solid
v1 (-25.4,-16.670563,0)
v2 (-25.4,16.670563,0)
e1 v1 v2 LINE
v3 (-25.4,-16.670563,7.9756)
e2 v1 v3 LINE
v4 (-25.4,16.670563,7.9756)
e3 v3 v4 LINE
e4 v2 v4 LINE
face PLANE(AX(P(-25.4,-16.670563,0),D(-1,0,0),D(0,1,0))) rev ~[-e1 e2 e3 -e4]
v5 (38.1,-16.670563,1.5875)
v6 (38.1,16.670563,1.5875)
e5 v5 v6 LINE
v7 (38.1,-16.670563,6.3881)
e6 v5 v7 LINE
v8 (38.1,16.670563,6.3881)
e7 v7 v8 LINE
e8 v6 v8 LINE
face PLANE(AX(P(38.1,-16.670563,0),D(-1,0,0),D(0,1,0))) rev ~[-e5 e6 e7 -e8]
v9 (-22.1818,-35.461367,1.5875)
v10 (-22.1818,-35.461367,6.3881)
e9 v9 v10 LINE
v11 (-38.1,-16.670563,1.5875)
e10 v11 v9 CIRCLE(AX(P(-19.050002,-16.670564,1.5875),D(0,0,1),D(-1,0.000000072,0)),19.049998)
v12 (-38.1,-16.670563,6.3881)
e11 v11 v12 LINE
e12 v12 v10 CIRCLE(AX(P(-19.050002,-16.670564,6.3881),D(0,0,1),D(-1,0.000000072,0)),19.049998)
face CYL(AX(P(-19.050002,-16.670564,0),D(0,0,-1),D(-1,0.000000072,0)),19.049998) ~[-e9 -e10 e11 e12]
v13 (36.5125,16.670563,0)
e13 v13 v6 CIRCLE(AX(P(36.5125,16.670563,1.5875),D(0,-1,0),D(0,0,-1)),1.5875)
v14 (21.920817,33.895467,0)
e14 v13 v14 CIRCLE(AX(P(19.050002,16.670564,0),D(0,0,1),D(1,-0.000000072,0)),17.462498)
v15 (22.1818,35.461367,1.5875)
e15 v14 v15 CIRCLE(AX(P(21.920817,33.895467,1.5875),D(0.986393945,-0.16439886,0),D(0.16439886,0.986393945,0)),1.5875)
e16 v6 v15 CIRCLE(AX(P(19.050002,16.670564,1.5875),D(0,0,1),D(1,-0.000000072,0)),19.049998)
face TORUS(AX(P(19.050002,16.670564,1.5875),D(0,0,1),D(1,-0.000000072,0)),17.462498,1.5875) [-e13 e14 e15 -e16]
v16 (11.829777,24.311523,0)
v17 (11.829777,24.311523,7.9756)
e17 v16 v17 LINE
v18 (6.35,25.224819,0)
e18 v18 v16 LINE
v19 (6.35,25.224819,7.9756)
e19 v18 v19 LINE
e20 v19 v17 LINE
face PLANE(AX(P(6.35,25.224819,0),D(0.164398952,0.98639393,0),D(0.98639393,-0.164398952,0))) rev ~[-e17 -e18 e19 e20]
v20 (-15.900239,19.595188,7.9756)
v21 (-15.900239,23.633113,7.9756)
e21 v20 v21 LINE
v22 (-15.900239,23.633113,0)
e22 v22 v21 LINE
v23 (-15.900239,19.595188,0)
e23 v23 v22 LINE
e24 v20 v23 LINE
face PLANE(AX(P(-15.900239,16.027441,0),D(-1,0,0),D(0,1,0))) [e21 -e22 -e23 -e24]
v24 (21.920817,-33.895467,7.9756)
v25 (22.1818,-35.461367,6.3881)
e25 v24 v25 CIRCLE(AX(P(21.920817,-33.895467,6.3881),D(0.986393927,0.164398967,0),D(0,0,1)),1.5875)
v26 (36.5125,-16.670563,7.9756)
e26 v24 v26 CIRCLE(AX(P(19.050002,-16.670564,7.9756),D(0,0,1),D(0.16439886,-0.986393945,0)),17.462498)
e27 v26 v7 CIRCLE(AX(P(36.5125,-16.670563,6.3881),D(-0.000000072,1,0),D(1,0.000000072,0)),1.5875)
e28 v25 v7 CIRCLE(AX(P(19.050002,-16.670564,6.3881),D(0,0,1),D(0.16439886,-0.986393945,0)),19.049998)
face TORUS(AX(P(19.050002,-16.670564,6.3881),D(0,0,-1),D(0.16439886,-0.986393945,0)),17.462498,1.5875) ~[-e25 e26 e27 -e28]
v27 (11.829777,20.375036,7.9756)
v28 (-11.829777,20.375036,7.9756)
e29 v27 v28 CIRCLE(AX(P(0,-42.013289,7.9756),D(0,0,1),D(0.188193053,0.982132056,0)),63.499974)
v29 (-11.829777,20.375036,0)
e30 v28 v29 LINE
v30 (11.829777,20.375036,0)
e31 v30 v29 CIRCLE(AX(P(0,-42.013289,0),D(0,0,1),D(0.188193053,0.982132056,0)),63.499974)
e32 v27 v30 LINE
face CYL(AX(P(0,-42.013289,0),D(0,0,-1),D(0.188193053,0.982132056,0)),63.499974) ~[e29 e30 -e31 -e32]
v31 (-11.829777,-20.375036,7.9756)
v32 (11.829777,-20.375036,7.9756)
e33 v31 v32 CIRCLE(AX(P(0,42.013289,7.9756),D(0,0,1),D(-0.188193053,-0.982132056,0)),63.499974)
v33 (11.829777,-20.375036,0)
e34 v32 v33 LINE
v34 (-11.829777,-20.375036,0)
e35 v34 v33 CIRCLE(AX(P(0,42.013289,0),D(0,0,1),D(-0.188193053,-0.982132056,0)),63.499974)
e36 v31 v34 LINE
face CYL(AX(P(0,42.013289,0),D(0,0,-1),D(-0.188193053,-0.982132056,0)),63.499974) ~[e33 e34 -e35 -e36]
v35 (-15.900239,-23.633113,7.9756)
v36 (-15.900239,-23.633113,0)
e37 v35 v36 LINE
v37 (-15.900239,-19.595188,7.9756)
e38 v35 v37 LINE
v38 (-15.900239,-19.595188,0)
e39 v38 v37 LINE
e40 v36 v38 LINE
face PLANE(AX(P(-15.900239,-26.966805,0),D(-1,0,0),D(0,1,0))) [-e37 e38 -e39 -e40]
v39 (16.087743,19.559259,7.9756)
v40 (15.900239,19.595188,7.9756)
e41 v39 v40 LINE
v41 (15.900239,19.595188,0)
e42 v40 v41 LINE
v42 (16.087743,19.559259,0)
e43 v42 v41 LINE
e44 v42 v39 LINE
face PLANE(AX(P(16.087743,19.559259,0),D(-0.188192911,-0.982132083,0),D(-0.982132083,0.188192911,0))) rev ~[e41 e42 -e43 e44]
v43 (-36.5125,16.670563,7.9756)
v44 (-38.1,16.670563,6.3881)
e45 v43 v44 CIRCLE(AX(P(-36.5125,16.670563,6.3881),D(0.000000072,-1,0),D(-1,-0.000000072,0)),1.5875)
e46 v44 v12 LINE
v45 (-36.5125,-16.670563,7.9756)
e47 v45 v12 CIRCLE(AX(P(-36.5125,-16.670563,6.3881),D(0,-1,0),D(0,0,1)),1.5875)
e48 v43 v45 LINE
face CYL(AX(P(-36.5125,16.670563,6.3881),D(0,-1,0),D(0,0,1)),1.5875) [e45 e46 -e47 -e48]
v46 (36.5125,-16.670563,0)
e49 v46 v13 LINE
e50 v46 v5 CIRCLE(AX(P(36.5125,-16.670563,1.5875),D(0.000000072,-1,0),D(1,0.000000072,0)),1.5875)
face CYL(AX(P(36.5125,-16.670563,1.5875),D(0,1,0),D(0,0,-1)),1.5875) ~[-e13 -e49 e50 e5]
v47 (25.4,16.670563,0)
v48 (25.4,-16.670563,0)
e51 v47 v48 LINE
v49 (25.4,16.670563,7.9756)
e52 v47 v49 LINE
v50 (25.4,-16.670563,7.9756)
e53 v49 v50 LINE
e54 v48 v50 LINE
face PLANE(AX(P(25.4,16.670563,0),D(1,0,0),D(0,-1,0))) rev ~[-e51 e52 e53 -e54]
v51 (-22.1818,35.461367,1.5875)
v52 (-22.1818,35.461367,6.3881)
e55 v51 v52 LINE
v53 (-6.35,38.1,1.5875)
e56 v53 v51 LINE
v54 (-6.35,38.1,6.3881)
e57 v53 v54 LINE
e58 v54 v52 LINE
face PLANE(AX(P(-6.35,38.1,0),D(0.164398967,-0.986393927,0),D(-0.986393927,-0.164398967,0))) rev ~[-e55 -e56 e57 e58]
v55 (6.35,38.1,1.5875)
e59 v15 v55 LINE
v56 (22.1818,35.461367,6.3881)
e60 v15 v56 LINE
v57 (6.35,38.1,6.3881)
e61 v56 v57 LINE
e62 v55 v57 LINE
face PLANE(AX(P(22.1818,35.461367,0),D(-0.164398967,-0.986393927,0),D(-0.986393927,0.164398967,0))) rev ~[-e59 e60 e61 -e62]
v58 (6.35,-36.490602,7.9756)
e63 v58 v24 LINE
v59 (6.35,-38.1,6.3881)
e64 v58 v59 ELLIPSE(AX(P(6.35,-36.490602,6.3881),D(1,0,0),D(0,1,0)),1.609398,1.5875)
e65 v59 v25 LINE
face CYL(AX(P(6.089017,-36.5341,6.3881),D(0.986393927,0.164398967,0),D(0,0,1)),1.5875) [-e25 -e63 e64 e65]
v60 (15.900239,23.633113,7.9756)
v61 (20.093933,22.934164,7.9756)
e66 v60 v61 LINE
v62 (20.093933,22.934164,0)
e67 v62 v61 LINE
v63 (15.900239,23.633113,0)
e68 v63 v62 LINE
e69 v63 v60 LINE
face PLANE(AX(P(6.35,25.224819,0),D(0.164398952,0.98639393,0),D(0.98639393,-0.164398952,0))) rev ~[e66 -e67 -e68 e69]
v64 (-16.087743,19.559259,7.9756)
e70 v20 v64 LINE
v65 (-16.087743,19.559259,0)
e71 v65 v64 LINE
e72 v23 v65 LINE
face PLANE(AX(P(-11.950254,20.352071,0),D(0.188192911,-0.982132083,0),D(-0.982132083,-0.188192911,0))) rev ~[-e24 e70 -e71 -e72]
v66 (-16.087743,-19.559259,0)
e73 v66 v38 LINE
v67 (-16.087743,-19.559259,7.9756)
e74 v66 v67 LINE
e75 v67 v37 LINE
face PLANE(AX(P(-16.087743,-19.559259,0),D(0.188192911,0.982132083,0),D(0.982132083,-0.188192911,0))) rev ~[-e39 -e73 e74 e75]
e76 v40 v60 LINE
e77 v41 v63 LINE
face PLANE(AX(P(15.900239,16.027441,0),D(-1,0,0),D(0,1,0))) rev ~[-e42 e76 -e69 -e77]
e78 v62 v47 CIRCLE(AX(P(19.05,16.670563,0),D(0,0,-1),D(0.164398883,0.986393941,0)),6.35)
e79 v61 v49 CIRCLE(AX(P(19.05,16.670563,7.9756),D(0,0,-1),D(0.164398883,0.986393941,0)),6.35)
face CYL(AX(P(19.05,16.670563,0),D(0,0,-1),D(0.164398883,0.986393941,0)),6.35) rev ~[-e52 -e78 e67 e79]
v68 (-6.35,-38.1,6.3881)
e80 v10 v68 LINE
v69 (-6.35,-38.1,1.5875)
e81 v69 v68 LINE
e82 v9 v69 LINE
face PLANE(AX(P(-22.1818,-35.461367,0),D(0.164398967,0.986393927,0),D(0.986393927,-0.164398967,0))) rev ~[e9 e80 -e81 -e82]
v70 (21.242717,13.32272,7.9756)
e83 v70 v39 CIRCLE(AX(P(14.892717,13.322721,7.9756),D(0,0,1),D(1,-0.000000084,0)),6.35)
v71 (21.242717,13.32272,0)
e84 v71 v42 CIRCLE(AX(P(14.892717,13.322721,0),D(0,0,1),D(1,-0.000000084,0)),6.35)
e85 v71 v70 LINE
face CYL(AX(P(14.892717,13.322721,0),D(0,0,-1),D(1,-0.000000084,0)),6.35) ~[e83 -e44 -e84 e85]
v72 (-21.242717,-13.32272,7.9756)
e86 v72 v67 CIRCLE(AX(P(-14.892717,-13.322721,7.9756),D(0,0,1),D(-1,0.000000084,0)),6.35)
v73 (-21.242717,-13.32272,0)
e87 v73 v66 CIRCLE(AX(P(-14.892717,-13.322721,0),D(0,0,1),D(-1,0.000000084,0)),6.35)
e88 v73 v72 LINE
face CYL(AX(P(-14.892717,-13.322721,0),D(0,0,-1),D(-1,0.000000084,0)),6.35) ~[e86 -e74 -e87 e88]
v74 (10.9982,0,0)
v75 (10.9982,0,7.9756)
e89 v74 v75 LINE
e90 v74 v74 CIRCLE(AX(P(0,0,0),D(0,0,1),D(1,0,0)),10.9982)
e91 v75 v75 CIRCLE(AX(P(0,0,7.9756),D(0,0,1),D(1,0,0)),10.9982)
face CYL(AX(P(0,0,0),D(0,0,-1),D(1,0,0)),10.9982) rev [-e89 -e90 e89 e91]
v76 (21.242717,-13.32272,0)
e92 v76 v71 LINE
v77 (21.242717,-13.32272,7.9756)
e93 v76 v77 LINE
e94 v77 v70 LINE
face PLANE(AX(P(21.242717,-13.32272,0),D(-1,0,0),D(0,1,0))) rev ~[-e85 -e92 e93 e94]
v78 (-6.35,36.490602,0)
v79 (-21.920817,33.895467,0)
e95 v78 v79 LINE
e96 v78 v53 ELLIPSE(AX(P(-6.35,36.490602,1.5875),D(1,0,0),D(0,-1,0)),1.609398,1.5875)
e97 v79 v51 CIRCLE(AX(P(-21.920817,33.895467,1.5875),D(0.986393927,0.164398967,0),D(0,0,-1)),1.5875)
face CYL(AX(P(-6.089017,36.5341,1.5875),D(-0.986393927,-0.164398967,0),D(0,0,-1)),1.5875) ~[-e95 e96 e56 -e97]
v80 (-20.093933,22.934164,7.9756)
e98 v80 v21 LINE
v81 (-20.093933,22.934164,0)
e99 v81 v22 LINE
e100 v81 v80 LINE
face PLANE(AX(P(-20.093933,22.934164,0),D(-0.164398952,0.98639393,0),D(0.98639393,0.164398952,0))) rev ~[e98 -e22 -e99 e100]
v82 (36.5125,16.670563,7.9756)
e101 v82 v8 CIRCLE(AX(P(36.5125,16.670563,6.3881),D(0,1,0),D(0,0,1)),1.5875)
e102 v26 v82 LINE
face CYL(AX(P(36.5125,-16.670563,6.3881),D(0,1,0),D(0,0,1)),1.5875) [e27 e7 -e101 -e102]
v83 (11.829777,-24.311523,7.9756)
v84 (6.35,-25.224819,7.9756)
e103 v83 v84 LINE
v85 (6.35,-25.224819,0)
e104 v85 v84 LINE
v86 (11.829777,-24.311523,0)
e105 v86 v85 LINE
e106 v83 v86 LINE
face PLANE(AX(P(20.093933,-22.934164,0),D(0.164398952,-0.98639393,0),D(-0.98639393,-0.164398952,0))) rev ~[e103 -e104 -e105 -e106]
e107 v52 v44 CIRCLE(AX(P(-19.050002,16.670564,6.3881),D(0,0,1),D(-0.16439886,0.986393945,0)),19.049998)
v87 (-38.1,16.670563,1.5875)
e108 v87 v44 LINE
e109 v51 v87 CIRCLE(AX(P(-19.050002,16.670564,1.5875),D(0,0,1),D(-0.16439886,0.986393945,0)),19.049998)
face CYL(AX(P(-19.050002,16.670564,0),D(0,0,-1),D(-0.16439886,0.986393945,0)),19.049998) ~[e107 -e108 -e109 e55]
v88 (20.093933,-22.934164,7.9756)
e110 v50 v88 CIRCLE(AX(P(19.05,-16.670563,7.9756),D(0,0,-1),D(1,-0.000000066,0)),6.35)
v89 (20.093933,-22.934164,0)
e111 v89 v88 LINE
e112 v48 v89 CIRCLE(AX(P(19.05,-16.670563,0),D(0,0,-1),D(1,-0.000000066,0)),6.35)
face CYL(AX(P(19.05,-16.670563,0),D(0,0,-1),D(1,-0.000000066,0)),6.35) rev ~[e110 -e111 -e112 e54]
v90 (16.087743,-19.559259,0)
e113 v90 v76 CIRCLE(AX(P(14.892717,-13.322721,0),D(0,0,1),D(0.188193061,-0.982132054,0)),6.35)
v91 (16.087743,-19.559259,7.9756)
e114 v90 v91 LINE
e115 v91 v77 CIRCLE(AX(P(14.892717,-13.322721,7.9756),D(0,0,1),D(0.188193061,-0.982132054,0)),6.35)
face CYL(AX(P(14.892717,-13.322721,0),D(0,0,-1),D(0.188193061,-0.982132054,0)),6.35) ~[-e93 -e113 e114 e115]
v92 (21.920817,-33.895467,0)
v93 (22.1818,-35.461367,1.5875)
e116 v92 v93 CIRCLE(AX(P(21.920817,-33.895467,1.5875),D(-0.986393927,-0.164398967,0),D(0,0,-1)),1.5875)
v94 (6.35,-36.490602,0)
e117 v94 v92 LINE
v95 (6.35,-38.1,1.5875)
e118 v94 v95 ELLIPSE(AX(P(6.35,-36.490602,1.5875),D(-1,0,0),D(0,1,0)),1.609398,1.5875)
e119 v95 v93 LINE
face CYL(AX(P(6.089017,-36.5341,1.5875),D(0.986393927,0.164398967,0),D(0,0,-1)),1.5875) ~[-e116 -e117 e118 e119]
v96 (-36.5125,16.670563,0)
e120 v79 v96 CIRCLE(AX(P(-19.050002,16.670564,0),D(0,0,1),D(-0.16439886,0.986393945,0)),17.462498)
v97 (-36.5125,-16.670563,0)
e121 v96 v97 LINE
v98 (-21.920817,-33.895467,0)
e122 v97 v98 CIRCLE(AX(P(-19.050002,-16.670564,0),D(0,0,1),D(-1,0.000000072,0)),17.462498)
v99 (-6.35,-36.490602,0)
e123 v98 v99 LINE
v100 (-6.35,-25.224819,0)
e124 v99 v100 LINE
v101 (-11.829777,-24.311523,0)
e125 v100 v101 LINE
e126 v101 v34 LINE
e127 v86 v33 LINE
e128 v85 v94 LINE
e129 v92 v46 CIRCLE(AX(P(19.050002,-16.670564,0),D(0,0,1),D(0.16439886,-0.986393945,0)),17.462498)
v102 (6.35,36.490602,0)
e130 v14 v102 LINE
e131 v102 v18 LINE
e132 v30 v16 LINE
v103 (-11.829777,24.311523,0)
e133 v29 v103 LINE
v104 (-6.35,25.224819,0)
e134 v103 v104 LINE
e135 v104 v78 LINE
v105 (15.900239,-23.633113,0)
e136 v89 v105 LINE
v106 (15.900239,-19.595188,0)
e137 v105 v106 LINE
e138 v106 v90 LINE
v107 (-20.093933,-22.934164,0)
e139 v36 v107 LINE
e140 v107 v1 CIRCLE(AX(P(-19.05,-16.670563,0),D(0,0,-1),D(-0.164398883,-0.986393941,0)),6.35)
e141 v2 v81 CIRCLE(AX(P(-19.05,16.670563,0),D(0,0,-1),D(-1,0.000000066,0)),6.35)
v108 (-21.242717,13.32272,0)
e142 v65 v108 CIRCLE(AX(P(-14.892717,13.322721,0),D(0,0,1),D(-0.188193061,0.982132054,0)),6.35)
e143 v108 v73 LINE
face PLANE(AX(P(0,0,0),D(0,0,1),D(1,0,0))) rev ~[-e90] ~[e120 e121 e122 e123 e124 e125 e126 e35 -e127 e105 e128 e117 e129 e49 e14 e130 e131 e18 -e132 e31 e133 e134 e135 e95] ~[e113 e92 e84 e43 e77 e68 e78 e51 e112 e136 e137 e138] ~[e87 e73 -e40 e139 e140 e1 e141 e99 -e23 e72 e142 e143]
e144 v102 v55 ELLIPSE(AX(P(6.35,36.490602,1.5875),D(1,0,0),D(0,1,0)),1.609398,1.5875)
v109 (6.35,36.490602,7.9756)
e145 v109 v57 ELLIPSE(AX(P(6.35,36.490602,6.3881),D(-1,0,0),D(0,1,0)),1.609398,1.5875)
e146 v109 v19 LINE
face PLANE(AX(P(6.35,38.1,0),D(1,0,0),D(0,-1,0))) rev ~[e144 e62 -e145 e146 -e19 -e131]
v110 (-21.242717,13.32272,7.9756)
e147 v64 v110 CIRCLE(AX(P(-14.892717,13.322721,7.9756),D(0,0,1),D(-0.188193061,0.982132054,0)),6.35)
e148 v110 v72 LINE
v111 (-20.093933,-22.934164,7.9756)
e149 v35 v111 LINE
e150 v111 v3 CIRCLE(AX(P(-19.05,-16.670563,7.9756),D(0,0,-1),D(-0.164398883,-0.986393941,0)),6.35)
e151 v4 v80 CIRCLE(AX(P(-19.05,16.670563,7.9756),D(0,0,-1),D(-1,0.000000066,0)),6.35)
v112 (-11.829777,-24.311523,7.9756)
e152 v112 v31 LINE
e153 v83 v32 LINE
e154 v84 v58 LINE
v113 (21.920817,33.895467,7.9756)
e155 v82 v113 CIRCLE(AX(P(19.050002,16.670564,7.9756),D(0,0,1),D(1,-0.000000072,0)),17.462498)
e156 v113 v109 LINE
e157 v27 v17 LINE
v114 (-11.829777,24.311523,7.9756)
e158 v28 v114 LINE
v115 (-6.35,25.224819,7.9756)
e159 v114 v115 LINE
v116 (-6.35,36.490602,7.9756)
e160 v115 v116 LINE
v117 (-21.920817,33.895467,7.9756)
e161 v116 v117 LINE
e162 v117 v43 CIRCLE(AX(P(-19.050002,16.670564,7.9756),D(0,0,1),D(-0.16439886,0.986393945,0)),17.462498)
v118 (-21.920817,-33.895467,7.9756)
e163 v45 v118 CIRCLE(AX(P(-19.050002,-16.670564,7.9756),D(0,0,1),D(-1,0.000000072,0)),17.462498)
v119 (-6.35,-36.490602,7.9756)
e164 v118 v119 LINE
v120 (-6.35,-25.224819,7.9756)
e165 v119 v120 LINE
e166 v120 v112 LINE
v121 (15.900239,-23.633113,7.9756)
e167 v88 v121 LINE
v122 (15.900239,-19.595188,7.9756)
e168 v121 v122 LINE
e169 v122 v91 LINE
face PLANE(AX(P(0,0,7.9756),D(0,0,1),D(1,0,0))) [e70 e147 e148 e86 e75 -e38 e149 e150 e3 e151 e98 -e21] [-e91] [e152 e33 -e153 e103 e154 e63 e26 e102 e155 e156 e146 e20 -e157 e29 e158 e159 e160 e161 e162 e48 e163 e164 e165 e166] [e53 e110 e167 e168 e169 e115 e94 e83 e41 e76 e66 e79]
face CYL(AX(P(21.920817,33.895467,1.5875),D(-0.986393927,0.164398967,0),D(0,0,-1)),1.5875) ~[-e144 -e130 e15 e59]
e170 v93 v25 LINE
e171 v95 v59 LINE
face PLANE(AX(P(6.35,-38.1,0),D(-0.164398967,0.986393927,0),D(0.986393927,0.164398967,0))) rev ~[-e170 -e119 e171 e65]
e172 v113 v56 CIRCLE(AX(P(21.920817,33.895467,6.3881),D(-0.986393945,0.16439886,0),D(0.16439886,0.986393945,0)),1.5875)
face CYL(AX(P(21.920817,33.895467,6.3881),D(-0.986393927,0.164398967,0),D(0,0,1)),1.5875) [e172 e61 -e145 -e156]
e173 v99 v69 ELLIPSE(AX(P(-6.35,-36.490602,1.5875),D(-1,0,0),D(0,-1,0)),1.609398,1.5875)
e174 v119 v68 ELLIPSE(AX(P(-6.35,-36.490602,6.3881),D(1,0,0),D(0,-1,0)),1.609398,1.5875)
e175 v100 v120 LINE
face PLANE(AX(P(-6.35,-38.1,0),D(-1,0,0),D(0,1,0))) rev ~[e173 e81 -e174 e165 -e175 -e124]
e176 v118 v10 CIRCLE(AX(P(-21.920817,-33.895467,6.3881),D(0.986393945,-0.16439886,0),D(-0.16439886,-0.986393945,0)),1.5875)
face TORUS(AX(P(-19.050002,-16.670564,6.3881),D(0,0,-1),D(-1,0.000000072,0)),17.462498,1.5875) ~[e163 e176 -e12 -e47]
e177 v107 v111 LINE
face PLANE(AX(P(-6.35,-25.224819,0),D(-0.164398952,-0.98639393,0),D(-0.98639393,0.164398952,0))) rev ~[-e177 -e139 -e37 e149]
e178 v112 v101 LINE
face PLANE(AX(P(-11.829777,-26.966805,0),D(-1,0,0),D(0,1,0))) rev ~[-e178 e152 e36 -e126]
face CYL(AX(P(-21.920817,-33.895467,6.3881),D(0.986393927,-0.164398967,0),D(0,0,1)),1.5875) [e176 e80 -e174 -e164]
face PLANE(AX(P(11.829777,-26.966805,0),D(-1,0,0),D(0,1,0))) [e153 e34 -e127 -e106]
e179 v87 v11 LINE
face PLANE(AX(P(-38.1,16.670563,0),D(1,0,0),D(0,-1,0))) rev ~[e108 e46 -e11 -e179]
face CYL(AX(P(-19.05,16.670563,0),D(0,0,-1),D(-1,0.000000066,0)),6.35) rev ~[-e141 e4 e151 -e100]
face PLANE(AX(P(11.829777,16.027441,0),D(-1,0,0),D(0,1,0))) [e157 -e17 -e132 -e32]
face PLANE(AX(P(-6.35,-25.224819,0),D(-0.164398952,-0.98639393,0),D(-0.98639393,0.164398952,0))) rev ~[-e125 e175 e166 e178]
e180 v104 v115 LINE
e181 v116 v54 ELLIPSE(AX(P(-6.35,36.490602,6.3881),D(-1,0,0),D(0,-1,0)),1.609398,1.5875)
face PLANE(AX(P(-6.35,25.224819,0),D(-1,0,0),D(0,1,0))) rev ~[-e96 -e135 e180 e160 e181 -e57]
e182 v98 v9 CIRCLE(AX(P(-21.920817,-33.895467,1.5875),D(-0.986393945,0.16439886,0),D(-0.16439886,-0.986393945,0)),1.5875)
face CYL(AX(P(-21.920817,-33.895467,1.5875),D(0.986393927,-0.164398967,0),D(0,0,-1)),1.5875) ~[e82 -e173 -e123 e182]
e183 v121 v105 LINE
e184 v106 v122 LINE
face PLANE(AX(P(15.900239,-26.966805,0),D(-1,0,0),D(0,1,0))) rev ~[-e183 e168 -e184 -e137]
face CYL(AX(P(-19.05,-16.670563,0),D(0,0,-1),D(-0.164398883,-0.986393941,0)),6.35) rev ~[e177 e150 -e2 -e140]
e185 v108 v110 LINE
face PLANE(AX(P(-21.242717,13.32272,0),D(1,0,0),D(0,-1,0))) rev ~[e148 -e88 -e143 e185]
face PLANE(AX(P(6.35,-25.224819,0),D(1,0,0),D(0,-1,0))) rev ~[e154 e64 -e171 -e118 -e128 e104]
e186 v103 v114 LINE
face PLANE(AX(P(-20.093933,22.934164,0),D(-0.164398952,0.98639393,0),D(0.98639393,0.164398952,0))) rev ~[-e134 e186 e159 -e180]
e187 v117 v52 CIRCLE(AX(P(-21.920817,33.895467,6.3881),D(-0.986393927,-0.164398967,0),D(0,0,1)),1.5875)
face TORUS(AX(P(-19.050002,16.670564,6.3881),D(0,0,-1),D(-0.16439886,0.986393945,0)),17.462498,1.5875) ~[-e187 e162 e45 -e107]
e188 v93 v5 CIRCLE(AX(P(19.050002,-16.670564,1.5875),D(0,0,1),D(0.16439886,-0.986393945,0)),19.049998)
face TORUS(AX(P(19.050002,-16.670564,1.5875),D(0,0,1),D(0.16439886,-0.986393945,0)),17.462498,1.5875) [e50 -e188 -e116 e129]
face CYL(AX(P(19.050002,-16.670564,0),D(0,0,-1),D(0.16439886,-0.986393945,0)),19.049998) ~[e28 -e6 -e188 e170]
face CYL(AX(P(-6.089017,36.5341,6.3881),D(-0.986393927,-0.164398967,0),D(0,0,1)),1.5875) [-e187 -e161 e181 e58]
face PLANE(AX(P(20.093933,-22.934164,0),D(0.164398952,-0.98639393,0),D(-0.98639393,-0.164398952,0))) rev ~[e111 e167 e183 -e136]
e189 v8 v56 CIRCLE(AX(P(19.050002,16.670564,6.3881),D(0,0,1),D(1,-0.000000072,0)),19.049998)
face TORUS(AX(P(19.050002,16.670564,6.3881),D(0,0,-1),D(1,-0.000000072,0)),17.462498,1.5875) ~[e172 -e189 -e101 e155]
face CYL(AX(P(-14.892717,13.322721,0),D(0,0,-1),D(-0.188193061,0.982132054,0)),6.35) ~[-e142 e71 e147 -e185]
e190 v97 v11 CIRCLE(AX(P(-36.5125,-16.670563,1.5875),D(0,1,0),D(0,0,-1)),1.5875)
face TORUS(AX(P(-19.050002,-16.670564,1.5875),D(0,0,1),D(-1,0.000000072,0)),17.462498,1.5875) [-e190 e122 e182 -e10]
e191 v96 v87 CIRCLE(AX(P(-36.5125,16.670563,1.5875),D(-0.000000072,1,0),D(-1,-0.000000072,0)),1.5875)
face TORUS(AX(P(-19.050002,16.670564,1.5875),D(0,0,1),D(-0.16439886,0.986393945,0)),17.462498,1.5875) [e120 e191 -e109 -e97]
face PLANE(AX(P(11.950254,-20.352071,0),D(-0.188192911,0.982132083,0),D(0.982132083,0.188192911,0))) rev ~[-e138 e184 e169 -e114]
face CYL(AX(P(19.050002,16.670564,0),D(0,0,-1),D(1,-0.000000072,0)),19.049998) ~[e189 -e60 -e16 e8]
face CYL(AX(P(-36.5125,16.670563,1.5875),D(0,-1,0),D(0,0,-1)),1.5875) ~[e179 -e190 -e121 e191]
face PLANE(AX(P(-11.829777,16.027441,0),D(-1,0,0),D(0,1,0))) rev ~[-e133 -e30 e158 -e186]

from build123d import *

# Parameters (mm, degrees)
F0_R     = 10.9982
F1_DEPTH = 7.9756
F3_DEPTH = 7.9756
F4_W     = 4.070462
F4_H     = 10.939364
F5_DEPTH = 7.9756
F6_R     = 1.5875


with BuildPart() as f1:
    # F0 (on Top) → F1 (new body)
    with BuildSketch(Plane.XY):
        with BuildLine():
            ThreePointArc((11.950254, 20.352071), (0, 21.486685), (-11.950254, 20.352071))
            Line((-11.950254, 20.352071), (-16.087743, 19.559259))
            ThreePointArc((-16.087743, 19.559259), (-19.787148, 17.368341), (-21.242717, 13.32272))
            Line((-21.242717, 13.32272), (-21.242717, 0))
            Line((-21.242717, 0), (-21.242717, -13.32272))
            ThreePointArc((-21.242717, -13.32272), (-19.787148, -17.368341), (-16.087743, -19.559259))
            Line((-16.087743, -19.559259), (-11.950254, -20.352071))
            ThreePointArc((-11.950254, -20.352071), (0, -21.486685), (11.950254, -20.352071))
            Line((11.950254, -20.352071), (16.087743, -19.559259))
            ThreePointArc((16.087743, -19.559259), (19.787148, -17.368341), (21.242717, -13.32272))
            Line((21.242717, -13.32272), (21.242717, 0))
            Line((21.242717, 0), (21.242717, 13.32272))
            ThreePointArc((21.242717, 13.32272), (19.787148, 17.368341), (16.087743, 19.559259))
            Line((16.087743, 19.559259), (11.950254, 20.352071))
        make_face()
        Circle(F0_R, mode=Mode.SUBTRACT)
    extrude(amount=F1_DEPTH)



with BuildPart() as f3:
    # F2 (on Top) → F3 (new body)
    with BuildSketch(Plane.XY):
        with BuildLine():
            ThreePointArc((-22.1818, 35.461367), (-33.585531, 28.984005), (-38.1, 16.670563))
            Line((-38.1, 16.670563), (-38.1, -16.670563))
            ThreePointArc((-38.1, -16.670563), (-33.585531, -28.984005), (-22.1818, -35.461367))
            Line((-22.1818, -35.461367), (-6.35, -38.1))
            Line((-6.35, -38.1), (-6.35, -25.224819))
            Line((-6.35, -25.224819), (-20.093933, -22.934164))
            ThreePointArc((-20.093933, -22.934164), (-23.895177, -20.775043), (-25.4, -16.670563))
            Line((-25.4, -16.670563), (-25.4, 16.670563))
            ThreePointArc((-25.4, 16.670563), (-23.895177, 20.775043), (-20.093933, 22.934164))
            Line((-20.093933, 22.934164), (-6.35, 25.224819))
            Line((-6.35, 25.224819), (-6.35, 38.1))
            Line((-6.35, 38.1), (-22.1818, 35.461367))
        make_face()
        with BuildLine():
            Line((38.1, -16.670563), (38.1, 16.670563))
            ThreePointArc((38.1, 16.670563), (33.585531, 28.984005), (22.1818, 35.461367))
            Line((22.1818, 35.461367), (6.35, 38.1))
            Line((6.35, 38.1), (6.35, 25.224819))
            Line((6.35, 25.224819), (20.093933, 22.934164))
            ThreePointArc((20.093933, 22.934164), (23.895177, 20.775043), (25.4, 16.670563))
            Line((25.4, 16.670563), (25.4, -16.670563))
            ThreePointArc((25.4, -16.670563), (23.895177, -20.775043), (20.093933, -22.934164))
            Line((20.093933, -22.934164), (6.35, -25.224819))
            Line((6.35, -25.224819), (6.35, -38.1))
            Line((6.35, -38.1), (22.1818, -35.461367))
            ThreePointArc((22.1818, -35.461367), (33.585531, -28.984005), (38.1, -16.670563))
        make_face()
    extrude(amount=F3_DEPTH)


with BuildPart() as f1_1:
    add(f1.part)

    add(f3.part)  # F5 merges F3
    # F4 (on Top) → F5 (join)
    with BuildSketch(Plane.XY):
        with Locations((-13.865008, 21.497123)):
            Rectangle(F4_W, F4_H)
        with Locations((13.865008, 21.497123)):
            Rectangle(F4_W, F4_H)
        with Locations((13.865008, -21.497123)):
            Rectangle(F4_W, F4_H)
        with Locations((-13.865008, -21.497123)):
            Rectangle(F4_W, F4_H)
    extrude(amount=F5_DEPTH)

    # F6
    f6_edges = [f1_1.edges().sort_by_distance(p)[0] for p in [
        (-14.2659, -36.780683, 7.9756),
        (14.2659, -36.780683, 7.9756),
        (14.2659, -36.780683, 0),
        (-14.2659, -36.780683, 0),
    ]]
    fillet(f6_edges, radius=F6_R)


solid = f1_1.part
